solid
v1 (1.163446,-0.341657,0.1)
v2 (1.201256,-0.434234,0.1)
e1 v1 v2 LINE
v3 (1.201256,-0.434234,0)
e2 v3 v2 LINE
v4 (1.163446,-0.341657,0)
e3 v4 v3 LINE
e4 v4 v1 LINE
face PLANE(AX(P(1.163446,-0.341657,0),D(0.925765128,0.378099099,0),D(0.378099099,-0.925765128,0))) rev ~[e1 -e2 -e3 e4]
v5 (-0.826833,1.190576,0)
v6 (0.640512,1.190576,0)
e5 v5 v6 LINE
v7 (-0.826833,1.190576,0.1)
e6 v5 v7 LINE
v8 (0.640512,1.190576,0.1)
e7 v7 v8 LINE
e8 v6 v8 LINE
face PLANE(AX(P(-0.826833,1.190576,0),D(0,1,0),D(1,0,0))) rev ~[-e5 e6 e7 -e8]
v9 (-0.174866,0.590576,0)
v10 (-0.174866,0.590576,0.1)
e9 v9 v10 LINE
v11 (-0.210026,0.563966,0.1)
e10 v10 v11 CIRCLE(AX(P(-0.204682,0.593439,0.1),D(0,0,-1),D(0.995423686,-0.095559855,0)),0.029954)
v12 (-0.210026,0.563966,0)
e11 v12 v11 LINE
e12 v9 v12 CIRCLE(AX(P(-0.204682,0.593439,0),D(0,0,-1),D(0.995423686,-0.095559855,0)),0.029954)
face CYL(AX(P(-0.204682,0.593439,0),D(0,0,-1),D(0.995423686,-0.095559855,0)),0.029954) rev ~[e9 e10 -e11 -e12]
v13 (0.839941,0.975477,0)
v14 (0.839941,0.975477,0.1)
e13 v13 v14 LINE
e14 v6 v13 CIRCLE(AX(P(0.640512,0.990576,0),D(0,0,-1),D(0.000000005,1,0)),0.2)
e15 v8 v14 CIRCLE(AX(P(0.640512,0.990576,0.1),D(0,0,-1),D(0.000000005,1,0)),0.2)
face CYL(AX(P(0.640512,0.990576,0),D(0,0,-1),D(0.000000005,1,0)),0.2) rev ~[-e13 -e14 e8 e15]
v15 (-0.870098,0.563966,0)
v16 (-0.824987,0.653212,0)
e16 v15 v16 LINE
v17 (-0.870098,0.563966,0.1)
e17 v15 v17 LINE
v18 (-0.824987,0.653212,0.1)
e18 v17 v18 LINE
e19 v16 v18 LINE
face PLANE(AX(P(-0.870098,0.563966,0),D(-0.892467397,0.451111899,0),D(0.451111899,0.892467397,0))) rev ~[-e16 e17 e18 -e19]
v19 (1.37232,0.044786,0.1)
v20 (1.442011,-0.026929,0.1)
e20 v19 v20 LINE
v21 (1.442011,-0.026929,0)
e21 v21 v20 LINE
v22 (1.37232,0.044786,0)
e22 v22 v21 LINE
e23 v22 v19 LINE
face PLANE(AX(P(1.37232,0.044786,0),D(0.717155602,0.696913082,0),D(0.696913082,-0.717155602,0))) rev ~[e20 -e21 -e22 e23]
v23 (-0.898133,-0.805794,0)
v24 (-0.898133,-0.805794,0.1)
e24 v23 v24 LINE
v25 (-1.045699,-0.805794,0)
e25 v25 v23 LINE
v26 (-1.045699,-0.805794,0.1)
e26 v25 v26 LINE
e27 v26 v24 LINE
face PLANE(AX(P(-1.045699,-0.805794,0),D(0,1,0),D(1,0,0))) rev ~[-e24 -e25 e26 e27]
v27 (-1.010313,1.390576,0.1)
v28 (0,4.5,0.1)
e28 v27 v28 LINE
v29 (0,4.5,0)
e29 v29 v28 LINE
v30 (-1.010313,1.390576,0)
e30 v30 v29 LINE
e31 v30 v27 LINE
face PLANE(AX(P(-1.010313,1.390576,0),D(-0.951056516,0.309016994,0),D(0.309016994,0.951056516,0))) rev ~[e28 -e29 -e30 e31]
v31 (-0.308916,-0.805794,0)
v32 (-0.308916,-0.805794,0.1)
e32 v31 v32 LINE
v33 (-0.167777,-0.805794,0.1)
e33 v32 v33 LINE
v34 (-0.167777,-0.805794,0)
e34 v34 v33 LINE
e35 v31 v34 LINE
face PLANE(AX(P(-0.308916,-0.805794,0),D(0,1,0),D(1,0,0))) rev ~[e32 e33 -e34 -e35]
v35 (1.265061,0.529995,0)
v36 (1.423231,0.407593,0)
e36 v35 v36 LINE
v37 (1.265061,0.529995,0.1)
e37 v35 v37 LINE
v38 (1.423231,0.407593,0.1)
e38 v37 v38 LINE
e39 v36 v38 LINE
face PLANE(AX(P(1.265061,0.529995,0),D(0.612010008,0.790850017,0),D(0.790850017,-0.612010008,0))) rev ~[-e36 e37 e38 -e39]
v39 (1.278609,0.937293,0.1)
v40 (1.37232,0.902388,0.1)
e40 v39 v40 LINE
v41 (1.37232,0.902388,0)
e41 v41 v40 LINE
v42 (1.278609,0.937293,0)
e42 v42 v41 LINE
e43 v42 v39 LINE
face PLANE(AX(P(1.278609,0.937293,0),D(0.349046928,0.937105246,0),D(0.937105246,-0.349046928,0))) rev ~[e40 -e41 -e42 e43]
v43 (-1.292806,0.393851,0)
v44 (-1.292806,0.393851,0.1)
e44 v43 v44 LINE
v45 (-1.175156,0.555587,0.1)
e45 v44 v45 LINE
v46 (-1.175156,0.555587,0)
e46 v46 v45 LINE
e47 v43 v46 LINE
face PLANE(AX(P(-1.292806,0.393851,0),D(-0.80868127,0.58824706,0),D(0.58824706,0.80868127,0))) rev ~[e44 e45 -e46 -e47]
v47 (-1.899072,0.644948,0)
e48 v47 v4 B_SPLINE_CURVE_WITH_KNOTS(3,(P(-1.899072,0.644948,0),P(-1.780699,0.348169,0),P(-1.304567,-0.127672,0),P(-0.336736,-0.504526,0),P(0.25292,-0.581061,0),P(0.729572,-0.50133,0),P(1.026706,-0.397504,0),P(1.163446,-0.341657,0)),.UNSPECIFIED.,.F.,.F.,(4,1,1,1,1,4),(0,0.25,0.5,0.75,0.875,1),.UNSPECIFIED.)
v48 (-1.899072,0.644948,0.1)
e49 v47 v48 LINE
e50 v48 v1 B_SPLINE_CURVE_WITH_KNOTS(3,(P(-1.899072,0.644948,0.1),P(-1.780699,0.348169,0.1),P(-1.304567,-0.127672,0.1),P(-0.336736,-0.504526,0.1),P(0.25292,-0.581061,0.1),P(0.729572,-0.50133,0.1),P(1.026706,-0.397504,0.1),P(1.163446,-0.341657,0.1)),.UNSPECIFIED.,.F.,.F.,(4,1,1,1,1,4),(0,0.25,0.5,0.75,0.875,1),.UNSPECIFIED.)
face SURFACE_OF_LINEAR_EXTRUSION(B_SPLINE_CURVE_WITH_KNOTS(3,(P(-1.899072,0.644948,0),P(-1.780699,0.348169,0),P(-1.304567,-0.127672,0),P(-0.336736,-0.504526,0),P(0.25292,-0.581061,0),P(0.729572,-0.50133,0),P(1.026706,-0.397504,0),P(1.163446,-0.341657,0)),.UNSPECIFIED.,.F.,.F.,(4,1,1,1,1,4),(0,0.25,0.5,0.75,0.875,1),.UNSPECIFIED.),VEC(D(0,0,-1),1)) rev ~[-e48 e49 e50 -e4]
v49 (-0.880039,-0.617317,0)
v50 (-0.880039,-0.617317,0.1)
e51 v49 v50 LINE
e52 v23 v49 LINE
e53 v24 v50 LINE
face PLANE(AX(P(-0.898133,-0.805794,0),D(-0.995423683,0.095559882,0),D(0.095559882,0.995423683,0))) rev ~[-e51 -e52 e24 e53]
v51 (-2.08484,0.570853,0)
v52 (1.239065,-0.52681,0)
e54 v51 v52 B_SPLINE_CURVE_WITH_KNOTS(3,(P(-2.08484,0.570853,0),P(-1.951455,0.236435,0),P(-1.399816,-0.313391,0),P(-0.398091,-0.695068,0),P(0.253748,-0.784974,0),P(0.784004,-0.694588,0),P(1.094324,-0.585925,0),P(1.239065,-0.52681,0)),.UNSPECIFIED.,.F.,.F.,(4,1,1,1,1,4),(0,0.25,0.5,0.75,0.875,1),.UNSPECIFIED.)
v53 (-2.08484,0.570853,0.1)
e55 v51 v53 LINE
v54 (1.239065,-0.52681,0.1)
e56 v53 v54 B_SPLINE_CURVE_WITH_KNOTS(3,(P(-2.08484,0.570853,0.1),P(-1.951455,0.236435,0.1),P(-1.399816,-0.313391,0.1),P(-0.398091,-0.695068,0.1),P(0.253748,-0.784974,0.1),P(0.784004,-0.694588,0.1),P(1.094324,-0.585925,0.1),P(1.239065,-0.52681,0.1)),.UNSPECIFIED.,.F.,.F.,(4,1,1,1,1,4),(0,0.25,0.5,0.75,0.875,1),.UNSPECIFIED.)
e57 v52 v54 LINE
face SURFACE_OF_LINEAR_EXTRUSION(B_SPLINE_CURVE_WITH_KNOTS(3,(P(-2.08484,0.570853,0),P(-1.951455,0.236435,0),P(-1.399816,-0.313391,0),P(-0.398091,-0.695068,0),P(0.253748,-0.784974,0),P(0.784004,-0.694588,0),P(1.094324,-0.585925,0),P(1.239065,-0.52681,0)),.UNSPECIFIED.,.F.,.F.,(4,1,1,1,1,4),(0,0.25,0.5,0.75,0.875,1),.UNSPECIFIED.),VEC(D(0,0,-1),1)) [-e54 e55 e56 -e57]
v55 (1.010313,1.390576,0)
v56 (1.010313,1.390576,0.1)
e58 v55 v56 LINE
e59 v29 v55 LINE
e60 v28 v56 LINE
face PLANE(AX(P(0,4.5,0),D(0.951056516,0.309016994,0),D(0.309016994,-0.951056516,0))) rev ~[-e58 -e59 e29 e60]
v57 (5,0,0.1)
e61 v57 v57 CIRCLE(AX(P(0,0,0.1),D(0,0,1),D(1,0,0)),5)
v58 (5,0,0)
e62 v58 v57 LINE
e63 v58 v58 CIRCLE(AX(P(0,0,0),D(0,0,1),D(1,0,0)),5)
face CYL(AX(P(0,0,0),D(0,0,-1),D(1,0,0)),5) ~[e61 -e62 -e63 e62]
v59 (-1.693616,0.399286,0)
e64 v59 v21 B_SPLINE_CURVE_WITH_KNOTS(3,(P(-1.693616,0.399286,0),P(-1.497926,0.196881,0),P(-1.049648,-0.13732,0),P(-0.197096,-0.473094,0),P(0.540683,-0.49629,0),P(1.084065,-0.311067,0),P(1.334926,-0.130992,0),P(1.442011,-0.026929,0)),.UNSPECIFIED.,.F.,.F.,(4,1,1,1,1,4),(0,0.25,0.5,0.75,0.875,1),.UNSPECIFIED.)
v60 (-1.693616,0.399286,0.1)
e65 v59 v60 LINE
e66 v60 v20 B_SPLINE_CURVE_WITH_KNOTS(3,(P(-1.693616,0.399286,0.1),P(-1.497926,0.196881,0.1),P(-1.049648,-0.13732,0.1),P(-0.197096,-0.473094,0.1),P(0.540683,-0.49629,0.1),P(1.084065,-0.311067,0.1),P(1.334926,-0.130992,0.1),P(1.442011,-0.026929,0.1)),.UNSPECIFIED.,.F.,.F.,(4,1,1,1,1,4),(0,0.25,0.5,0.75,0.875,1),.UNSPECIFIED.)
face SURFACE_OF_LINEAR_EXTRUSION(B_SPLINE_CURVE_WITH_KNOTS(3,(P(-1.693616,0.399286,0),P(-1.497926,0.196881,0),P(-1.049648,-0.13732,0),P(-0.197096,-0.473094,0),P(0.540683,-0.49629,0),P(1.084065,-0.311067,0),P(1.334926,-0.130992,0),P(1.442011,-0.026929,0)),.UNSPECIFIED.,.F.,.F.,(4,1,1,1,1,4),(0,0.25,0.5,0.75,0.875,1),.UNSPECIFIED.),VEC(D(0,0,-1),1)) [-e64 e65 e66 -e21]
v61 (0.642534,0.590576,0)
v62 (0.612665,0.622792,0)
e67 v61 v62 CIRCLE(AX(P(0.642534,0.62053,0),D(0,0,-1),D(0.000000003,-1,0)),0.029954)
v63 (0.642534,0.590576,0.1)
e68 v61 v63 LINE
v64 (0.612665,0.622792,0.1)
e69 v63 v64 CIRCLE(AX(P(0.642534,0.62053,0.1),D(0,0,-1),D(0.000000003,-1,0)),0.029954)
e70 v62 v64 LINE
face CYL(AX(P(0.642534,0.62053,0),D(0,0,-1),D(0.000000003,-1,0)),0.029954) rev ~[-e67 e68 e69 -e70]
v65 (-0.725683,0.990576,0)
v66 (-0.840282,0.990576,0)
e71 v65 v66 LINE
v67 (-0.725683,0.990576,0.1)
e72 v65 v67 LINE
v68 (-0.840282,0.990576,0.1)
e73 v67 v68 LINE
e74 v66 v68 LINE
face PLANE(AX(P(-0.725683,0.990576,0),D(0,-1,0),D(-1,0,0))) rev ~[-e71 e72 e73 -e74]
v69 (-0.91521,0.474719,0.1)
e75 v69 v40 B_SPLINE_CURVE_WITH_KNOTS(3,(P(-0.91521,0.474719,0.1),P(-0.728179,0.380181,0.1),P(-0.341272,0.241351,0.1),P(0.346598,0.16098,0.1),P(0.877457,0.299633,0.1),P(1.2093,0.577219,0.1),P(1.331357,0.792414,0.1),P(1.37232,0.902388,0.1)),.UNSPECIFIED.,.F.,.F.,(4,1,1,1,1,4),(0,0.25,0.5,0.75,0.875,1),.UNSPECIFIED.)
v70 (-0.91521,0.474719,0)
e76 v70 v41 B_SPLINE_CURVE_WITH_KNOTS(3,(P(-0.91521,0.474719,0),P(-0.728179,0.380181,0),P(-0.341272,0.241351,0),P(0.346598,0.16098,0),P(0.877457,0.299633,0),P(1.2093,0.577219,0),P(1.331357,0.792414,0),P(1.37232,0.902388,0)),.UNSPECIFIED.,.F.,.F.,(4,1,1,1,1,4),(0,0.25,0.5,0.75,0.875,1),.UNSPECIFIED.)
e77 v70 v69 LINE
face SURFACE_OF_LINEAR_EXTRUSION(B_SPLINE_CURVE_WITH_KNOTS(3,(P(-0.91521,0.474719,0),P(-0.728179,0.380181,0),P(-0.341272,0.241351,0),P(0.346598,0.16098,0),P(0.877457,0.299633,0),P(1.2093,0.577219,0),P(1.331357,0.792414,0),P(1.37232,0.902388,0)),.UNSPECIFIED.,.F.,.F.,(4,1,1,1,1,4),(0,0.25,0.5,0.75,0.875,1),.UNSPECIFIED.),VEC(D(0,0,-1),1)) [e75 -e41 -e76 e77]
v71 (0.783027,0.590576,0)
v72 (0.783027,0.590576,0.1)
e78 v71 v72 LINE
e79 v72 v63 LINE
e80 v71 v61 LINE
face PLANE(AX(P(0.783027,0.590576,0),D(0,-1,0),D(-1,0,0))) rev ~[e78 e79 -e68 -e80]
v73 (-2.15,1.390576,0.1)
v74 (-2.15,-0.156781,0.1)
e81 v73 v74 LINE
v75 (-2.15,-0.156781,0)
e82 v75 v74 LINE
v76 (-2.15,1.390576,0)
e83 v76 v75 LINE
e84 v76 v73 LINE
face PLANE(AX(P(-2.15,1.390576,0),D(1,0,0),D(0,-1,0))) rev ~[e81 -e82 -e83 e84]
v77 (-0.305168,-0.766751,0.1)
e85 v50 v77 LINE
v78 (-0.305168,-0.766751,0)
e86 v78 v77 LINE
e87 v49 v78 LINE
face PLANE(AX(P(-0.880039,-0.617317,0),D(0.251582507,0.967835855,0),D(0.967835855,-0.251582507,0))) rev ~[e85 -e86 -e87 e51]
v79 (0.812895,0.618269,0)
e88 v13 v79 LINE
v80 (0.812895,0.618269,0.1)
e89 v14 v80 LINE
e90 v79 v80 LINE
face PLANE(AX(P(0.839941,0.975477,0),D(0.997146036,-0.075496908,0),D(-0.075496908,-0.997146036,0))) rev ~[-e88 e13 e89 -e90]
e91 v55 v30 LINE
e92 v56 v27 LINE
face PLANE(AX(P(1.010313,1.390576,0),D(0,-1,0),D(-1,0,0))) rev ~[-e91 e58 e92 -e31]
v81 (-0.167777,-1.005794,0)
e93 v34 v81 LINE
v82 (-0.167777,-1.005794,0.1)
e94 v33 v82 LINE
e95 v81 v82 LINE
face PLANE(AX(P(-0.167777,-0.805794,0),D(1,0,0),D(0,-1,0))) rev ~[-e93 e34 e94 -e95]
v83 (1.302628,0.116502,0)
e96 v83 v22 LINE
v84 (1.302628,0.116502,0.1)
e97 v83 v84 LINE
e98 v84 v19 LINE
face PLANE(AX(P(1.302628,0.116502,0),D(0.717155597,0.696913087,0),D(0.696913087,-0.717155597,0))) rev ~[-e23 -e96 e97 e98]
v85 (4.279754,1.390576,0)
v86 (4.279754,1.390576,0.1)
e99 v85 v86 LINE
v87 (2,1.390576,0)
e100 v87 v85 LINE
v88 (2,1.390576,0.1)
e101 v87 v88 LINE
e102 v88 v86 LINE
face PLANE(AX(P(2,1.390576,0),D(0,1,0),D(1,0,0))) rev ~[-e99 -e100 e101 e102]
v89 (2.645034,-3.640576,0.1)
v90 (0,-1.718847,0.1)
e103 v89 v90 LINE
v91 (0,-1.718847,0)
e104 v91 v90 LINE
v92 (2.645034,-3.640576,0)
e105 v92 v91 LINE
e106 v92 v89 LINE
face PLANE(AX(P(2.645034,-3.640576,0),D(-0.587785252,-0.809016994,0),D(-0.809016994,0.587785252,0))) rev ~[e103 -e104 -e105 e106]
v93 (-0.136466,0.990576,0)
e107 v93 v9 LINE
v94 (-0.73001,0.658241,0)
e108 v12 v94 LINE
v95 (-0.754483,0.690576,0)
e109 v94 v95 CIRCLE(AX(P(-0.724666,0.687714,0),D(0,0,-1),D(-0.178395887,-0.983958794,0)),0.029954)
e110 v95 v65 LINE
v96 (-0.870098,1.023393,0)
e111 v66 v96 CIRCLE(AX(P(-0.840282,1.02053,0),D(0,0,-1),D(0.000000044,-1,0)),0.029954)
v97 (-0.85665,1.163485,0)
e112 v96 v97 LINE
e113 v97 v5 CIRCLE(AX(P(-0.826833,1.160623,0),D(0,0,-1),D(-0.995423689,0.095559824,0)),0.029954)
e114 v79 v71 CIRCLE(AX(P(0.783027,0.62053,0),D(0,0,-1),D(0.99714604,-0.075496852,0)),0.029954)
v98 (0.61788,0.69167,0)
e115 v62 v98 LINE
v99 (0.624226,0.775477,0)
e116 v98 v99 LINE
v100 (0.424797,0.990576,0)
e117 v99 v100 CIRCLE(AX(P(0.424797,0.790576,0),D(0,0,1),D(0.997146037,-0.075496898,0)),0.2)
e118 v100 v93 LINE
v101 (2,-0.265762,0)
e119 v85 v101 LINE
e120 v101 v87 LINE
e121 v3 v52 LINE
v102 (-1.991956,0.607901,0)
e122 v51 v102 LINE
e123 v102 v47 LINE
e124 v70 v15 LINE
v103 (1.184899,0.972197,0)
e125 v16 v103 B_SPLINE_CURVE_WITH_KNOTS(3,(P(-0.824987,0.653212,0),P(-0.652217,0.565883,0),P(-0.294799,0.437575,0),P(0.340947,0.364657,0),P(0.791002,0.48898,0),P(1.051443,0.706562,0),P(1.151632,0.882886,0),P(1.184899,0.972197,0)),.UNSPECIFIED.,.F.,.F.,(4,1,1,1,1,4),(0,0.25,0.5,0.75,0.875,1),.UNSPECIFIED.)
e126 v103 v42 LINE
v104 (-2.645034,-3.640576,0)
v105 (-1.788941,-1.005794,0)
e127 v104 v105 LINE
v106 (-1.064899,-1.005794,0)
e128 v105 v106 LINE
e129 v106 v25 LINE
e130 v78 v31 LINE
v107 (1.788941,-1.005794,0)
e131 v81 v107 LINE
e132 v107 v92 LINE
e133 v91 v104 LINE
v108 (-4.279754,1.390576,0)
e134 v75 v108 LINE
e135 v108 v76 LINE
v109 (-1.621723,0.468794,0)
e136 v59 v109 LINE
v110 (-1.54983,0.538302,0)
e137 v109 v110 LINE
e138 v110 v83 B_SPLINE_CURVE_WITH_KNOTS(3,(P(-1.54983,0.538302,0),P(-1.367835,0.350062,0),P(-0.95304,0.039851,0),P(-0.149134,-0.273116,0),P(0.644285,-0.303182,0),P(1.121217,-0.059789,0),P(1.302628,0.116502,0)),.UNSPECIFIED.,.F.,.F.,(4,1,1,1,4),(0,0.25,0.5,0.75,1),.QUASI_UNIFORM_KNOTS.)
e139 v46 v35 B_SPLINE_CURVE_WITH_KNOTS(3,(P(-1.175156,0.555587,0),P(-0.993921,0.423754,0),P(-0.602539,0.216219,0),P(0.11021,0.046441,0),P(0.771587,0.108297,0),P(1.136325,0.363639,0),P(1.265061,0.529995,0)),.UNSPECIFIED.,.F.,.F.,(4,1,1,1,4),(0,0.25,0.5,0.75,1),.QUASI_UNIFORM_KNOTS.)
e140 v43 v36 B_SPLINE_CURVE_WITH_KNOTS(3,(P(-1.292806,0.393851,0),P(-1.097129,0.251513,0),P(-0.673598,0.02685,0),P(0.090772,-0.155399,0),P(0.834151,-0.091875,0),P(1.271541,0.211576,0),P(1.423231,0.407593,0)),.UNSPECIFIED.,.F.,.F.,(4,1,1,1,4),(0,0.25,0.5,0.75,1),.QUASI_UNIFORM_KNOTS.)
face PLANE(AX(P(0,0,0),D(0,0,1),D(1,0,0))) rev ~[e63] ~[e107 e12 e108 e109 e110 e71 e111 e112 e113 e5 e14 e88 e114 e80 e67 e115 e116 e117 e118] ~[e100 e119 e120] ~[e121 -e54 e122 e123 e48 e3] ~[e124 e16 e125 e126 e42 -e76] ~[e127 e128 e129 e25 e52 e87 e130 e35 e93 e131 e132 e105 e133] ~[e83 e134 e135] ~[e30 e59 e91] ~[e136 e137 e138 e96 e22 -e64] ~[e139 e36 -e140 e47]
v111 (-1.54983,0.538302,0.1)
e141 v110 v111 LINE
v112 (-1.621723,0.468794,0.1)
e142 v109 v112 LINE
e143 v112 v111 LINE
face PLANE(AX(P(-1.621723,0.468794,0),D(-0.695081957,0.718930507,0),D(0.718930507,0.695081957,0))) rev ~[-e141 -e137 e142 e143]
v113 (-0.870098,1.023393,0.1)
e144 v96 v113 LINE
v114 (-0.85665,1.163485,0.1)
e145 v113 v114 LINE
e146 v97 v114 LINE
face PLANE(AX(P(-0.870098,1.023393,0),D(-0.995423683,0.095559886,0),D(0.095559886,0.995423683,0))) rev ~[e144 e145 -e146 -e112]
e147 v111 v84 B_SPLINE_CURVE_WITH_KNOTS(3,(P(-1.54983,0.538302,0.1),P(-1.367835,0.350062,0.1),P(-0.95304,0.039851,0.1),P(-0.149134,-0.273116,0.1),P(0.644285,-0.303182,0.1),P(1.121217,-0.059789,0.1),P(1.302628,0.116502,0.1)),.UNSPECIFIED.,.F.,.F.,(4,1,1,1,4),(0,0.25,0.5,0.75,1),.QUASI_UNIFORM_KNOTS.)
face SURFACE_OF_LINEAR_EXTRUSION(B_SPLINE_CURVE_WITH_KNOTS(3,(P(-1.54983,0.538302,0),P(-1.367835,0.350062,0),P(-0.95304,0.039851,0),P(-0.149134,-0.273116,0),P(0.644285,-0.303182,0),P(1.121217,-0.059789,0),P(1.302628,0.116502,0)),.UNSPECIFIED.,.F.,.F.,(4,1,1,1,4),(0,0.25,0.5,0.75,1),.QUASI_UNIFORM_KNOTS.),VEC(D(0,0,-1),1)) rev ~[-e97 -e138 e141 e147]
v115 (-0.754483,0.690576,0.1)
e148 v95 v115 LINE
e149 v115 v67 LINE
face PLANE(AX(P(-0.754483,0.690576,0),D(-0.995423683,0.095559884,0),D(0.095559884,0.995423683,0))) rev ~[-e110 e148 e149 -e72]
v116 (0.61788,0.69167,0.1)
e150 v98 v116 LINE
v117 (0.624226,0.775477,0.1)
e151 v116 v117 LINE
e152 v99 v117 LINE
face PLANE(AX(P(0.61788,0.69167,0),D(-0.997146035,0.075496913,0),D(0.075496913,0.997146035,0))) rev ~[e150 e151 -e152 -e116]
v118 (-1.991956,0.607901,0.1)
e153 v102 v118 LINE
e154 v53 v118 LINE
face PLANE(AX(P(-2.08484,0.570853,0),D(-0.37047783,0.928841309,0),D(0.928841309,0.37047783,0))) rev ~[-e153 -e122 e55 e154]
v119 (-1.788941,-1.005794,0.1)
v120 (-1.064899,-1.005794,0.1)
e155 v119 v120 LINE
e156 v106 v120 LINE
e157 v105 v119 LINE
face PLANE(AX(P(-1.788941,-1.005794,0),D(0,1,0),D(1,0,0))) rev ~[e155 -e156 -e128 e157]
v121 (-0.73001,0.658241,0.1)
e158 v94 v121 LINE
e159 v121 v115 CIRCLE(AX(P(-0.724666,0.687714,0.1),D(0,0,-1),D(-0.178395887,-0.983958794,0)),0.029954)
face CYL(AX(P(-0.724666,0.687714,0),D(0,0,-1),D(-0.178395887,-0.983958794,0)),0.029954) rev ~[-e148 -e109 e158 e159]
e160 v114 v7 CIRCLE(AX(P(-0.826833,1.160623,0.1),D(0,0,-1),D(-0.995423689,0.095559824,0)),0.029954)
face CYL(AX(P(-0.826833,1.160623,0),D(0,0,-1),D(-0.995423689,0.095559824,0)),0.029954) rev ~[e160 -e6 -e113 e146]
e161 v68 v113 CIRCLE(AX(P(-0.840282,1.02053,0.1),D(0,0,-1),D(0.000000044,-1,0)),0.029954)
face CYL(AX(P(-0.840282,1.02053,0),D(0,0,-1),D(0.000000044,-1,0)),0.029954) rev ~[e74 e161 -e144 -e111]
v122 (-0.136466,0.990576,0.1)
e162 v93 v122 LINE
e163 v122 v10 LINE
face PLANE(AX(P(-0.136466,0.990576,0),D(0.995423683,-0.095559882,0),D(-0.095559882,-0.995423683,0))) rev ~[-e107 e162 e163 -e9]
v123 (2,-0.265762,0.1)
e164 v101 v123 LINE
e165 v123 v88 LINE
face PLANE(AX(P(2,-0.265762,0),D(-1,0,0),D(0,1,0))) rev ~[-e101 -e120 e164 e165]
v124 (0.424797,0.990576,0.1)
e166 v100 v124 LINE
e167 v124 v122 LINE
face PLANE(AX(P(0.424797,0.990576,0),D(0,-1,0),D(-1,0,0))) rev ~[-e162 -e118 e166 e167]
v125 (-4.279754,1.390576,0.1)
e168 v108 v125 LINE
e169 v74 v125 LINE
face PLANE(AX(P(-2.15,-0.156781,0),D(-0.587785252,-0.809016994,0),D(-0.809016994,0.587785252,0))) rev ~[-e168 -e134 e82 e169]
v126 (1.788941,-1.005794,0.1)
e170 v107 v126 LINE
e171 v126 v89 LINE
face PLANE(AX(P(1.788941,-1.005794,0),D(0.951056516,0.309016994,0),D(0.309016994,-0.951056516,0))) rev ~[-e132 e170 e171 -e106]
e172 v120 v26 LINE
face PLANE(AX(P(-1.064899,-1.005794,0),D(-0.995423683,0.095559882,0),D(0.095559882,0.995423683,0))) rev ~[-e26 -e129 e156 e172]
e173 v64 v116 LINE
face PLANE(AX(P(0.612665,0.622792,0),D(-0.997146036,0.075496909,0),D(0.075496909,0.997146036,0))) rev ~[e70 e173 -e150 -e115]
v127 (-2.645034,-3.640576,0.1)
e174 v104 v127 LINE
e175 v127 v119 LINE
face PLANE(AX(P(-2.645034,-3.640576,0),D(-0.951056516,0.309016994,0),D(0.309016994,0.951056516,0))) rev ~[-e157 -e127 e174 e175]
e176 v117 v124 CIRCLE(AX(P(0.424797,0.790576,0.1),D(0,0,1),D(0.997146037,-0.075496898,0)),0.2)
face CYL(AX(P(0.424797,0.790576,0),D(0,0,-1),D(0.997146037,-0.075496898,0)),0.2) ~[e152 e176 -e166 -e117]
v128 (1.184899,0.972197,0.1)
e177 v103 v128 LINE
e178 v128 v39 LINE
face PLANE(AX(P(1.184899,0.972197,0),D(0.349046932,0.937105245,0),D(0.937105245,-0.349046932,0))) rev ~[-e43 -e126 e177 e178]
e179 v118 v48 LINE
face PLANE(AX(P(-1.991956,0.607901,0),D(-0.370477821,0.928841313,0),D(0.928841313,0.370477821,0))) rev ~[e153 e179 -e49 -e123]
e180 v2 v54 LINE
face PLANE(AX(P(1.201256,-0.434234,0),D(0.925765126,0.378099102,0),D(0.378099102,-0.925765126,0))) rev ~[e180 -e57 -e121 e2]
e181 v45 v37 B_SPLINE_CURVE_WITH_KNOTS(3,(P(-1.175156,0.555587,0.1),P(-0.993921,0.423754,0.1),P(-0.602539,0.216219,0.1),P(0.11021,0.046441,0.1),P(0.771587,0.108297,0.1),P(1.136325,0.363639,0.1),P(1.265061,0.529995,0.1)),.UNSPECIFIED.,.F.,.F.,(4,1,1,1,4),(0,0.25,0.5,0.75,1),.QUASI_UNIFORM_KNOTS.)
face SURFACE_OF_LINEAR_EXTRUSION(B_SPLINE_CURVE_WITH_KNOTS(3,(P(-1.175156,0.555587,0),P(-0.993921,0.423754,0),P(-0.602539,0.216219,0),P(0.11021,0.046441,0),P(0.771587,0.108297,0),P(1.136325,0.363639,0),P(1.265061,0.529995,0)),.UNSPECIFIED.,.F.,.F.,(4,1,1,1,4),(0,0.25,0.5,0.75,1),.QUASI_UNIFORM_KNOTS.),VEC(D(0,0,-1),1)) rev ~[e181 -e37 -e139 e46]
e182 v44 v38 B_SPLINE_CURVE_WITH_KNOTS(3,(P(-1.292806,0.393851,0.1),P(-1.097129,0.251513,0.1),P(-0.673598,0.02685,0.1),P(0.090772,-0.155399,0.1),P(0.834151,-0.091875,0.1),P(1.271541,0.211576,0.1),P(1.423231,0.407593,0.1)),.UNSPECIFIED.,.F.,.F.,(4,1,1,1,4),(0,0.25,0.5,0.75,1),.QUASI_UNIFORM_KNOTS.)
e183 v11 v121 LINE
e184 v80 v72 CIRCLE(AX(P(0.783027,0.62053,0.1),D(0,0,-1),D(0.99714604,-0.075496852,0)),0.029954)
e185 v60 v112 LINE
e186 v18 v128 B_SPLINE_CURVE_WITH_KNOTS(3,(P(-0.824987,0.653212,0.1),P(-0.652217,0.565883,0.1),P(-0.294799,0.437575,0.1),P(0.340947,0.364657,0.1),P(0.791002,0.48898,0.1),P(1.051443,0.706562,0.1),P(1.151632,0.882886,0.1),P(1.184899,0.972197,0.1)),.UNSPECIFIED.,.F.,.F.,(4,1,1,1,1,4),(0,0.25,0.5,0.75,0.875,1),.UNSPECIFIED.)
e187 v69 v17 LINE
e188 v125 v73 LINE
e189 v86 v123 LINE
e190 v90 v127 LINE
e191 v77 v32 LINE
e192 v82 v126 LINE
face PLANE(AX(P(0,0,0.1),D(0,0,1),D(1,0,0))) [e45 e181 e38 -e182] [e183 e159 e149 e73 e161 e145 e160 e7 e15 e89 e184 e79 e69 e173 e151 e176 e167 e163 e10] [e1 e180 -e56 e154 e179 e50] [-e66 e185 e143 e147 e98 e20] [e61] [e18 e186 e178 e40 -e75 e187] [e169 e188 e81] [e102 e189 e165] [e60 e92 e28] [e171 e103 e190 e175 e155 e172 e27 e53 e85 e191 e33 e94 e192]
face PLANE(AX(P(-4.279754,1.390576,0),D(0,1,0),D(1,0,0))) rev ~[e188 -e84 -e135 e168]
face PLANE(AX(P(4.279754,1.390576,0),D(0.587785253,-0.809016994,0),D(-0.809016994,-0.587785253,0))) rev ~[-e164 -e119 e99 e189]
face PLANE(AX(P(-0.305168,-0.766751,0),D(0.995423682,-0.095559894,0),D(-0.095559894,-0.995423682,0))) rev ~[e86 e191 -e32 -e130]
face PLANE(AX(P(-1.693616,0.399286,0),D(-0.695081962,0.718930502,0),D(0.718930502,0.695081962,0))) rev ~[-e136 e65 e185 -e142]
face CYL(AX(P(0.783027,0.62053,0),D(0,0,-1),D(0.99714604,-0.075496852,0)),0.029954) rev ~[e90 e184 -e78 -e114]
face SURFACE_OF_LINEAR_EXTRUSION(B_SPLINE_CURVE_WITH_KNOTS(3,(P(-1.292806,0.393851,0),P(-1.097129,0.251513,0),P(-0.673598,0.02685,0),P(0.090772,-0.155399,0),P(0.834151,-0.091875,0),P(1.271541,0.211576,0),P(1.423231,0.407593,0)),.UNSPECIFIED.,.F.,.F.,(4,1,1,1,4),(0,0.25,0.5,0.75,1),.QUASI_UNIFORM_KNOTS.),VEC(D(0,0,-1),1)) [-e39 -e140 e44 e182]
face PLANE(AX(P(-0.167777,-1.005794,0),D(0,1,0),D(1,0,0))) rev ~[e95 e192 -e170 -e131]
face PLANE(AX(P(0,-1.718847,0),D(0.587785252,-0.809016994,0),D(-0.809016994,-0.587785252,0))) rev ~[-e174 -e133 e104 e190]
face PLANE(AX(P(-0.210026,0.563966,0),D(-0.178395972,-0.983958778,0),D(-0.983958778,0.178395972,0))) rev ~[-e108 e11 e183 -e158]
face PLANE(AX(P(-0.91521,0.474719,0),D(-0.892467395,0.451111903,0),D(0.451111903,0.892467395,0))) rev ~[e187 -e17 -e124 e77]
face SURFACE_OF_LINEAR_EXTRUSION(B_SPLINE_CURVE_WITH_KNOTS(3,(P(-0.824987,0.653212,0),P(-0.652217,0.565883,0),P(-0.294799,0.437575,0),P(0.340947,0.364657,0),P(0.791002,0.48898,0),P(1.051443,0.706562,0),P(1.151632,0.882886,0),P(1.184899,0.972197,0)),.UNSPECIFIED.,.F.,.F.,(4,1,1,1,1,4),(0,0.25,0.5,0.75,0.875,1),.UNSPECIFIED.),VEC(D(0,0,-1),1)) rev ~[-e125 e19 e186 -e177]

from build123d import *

# Parameters (mm, degrees)
SKETCH_1_R      = 5
EXTRUDE_3_DEPTH = 0.1


with BuildPart() as part:
    # 草图1 → 凸台-拉伸3 (new body)
    with BuildSketch(Plane.XY):
        Circle(SKETCH_1_R)
        Polygon((-0.167777112, -1.005793851), (1.720384349, -1.005793851), (1.788940866, -1.005793851), (2.645033635, -3.640576475), (0, -1.718847051), (-2.645033635, -3.640576475), (-1.788940866, -1.005793851), (-1.196984608, -1.005793851), (-1.064898778, -1.005793851), (-1.045698937, -0.805793851), (-0.898132968, -0.805793851), (-0.880039365, -0.617317259), (-0.305168214, -0.766751199), (-0.308916278, -0.805793851), (-0.167777112, -0.805793851), align=None, mode=Mode.SUBTRACT)
        with BuildLine():
            Line((-1.991956336, 0.60790071), (-1.899072205, 0.644948492))
            add(Edge.make_bspline(
                [(-1.899072205, 0.644948492), (-1.780698643, 0.348168911), (-1.304567249, -0.127672291), (-0.336736042, -0.504525958), (0.252920379, -0.581061249), (0.729572204, -0.501330005), (1.026706033, -0.397504088), (1.163445675, -0.341657163)],
                knots=[0, 0, 0, 0, 0.25, 0.5, 0.75, 0.875, 1, 1, 1, 1], degree=3))
            Line((1.163445675, -0.341657163), (1.201255585, -0.434233676))
            Line((1.201255585, -0.434233676), (1.239065495, -0.526810188))
            add(Edge.make_bspline(
                [(-2.084840467, 0.570852927), (-1.951454553, 0.236435213), (-1.399816024, -0.313391075), (-0.398090532, -0.695067628), (0.253747942, -0.784974301), (0.784004358, -0.694588239), (1.094323827, -0.585925285), (1.239065495, -0.526810188)],
                knots=[0, 0, 0, 0, 0.25, 0.5, 0.75, 0.875, 1, 1, 1, 1], degree=3))
            Line((-2.084840467, 0.570852927), (-1.991956336, 0.60790071))
        make_face(mode=Mode.SUBTRACT)
        Polygon((-4.279754323, 1.390576475), (-2.15, 1.390576475), (-2.15, -0.066596805), (-2.15, -0.156780615), align=None, mode=Mode.SUBTRACT)
        with BuildLine():
            add(Edge.make_bspline(
                [(-1.549830374, 0.538301968), (-1.367834784, 0.350062034), (-0.953039741, 0.039850566), (-0.14913383, -0.273116302), (0.644284758, -0.303181598), (1.121216686, -0.059789278), (1.302628316, 0.116501809)],
                knots=[0, 0, 0, 0, 0.25, 0.5, 0.75, 1, 1, 1, 1], degree=3))
            Line((1.302628316, 0.116501809), (1.372319625, 0.044786249))
            Line((1.372319625, 0.044786249), (1.442010933, -0.026929311))
            add(Edge.make_bspline(
                [(-1.693616475, 0.399285576), (-1.497925898, 0.196880775), (-1.049647981, -0.137319606), (-0.197096293, -0.473093583), (0.540683467, -0.49628987), (1.08406545, -0.311067402), (1.334925603, -0.130992039), (1.442010933, -0.026929311)],
                knots=[0, 0, 0, 0, 0.25, 0.5, 0.75, 0.875, 1, 1, 1, 1], degree=3))
            Line((-1.693616475, 0.399285576), (-1.621723425, 0.468793772))
            Line((-1.621723425, 0.468793772), (-1.549830374, 0.538301968))
        make_face(mode=Mode.SUBTRACT)
        with BuildLine():
            ThreePointArc((-0.840281876, 0.990576475), (-0.862451255, 1.000387117), (-0.870098497, 1.023392545))
            Line((-0.870098497, 1.023392545), (-0.856649718, 1.163485148))
            ThreePointArc((-0.856649718, 1.163485148), (-0.846976154, 1.182792155), (-0.826833098, 1.190576475))
            Line((-0.826833098, 1.190576475), (0.640511551, 1.190576475))
            ThreePointArc((0.640511551, 1.190576475), (0.787174219, 1.126554641), (0.839940758, 0.975477093))
            Line((0.839940758, 0.975477093), (0.812895447, 0.618268761))
            ThreePointArc((0.812895447, 0.618268761), (0.803392481, 0.598564726), (0.783027236, 0.590576475))
            Line((0.783027236, 0.590576475), (0.642533668, 0.590576475))
            ThreePointArc((0.642533668, 0.590576475), (0.620568222, 0.600164928), (0.612665457, 0.622791584))
            Line((0.612665457, 0.622791584), (0.617880458, 0.691670133))
            Line((0.617880458, 0.691670133), (0.624225734, 0.775477093))
            ThreePointArc((0.624225734, 0.775477093), (0.571459194, 0.926554641), (0.424796526, 0.990576475))
            Line((0.424796526, 0.990576475), (0.185889669, 0.990576475))
            Line((0.185889669, 0.990576475), (-0.136466154, 0.990576475))
            Line((-0.136466154, 0.990576475), (-0.174865836, 0.590576475))
            ThreePointArc((-0.174865836, 0.590576475), (-0.186605785, 0.569554584), (-0.210026076, 0.563965642))
            Line((-0.210026076, 0.563965642), (-0.730009604, 0.658240899))
            ThreePointArc((-0.730009604, 0.658240899), (-0.748550248, 0.669637431), (-0.754482606, 0.690576475))
            Line((-0.754482606, 0.690576475), (-0.725682844, 0.990576475))
            Line((-0.725682844, 0.990576475), (-0.840281876, 0.990576475))
        make_face(mode=Mode.SUBTRACT)
        Polygon((-1.010312947, 1.390576475), (0, 4.5), (1.010312947, 1.390576475), align=None, mode=Mode.SUBTRACT)
        with BuildLine():
            Line((-1.233981014, 0.474718903), (-1.175156308, 0.55558703))
            add(Edge.make_bspline(
                [(-1.175156308, 0.55558703), (-0.993921308, 0.423753933), (-0.60253903, 0.216218799), (0.110209984, 0.046440521), (0.771586805, 0.108296918), (1.136324529, 0.363638938), (1.265061247, 0.529994773)],
                knots=[0, 0, 0, 0, 0.25, 0.5, 0.75, 1, 1, 1, 1], degree=3))
            Line((1.265061247, 0.529994773), (1.344146249, 0.468793772))
            Line((1.344146249, 0.468793772), (1.423231251, 0.407592771))
            add(Edge.make_bspline(
                [(-1.29280572, 0.393850776), (-1.097129026, 0.251512571), (-0.673598325, 0.026850492), (0.090771832, -0.155398634), (0.834150505, -0.091874662), (1.271541178, 0.21157621), (1.423231251, 0.407592771)],
                knots=[0, 0, 0, 0, 0.25, 0.5, 0.75, 1, 1, 1, 1], degree=3))
            Line((-1.29280572, 0.393850776), (-1.233981014, 0.474718903))
        make_face(mode=Mode.SUBTRACT)
        with BuildLine():
            add(Edge.make_bspline(
                [(-0.824987307, 0.653212382), (-0.652216888, 0.565882813), (-0.294799178, 0.437574506), (0.340946716, 0.364657013), (0.791001776, 0.488979802), (1.051442622, 0.706562479), (1.151632496, 0.882886074), (1.184898576, 0.972197324)],
                knots=[0, 0, 0, 0, 0.25, 0.5, 0.75, 0.875, 1, 1, 1, 1], degree=3))
            Line((1.184898576, 0.972197324), (1.2786091, 0.937292631))
            Line((1.2786091, 0.937292631), (1.372319625, 0.902387938))
            add(Edge.make_bspline(
                [(-0.915209687, 0.474718903), (-0.728178948, 0.380181227), (-0.341272237, 0.241351144), (0.346598042, 0.160979838), (0.87745692, 0.299632533), (1.209299978, 0.577219377), (1.331357393, 0.792414409), (1.372319625, 0.902387938)],
                knots=[0, 0, 0, 0, 0.25, 0.5, 0.75, 0.875, 1, 1, 1, 1], degree=3))
            Line((-0.915209687, 0.474718903), (-0.870098497, 0.563965642))
            Line((-0.870098497, 0.563965642), (-0.824987307, 0.653212382))
        make_face(mode=Mode.SUBTRACT)
        Polygon((4.279754323, 1.390576475), (2, -0.265761995), (2, -0.022653284), (2, 1.390576475), align=None, mode=Mode.SUBTRACT)
    extrude(amount=EXTRUDE_3_DEPTH)


solid = part.part
